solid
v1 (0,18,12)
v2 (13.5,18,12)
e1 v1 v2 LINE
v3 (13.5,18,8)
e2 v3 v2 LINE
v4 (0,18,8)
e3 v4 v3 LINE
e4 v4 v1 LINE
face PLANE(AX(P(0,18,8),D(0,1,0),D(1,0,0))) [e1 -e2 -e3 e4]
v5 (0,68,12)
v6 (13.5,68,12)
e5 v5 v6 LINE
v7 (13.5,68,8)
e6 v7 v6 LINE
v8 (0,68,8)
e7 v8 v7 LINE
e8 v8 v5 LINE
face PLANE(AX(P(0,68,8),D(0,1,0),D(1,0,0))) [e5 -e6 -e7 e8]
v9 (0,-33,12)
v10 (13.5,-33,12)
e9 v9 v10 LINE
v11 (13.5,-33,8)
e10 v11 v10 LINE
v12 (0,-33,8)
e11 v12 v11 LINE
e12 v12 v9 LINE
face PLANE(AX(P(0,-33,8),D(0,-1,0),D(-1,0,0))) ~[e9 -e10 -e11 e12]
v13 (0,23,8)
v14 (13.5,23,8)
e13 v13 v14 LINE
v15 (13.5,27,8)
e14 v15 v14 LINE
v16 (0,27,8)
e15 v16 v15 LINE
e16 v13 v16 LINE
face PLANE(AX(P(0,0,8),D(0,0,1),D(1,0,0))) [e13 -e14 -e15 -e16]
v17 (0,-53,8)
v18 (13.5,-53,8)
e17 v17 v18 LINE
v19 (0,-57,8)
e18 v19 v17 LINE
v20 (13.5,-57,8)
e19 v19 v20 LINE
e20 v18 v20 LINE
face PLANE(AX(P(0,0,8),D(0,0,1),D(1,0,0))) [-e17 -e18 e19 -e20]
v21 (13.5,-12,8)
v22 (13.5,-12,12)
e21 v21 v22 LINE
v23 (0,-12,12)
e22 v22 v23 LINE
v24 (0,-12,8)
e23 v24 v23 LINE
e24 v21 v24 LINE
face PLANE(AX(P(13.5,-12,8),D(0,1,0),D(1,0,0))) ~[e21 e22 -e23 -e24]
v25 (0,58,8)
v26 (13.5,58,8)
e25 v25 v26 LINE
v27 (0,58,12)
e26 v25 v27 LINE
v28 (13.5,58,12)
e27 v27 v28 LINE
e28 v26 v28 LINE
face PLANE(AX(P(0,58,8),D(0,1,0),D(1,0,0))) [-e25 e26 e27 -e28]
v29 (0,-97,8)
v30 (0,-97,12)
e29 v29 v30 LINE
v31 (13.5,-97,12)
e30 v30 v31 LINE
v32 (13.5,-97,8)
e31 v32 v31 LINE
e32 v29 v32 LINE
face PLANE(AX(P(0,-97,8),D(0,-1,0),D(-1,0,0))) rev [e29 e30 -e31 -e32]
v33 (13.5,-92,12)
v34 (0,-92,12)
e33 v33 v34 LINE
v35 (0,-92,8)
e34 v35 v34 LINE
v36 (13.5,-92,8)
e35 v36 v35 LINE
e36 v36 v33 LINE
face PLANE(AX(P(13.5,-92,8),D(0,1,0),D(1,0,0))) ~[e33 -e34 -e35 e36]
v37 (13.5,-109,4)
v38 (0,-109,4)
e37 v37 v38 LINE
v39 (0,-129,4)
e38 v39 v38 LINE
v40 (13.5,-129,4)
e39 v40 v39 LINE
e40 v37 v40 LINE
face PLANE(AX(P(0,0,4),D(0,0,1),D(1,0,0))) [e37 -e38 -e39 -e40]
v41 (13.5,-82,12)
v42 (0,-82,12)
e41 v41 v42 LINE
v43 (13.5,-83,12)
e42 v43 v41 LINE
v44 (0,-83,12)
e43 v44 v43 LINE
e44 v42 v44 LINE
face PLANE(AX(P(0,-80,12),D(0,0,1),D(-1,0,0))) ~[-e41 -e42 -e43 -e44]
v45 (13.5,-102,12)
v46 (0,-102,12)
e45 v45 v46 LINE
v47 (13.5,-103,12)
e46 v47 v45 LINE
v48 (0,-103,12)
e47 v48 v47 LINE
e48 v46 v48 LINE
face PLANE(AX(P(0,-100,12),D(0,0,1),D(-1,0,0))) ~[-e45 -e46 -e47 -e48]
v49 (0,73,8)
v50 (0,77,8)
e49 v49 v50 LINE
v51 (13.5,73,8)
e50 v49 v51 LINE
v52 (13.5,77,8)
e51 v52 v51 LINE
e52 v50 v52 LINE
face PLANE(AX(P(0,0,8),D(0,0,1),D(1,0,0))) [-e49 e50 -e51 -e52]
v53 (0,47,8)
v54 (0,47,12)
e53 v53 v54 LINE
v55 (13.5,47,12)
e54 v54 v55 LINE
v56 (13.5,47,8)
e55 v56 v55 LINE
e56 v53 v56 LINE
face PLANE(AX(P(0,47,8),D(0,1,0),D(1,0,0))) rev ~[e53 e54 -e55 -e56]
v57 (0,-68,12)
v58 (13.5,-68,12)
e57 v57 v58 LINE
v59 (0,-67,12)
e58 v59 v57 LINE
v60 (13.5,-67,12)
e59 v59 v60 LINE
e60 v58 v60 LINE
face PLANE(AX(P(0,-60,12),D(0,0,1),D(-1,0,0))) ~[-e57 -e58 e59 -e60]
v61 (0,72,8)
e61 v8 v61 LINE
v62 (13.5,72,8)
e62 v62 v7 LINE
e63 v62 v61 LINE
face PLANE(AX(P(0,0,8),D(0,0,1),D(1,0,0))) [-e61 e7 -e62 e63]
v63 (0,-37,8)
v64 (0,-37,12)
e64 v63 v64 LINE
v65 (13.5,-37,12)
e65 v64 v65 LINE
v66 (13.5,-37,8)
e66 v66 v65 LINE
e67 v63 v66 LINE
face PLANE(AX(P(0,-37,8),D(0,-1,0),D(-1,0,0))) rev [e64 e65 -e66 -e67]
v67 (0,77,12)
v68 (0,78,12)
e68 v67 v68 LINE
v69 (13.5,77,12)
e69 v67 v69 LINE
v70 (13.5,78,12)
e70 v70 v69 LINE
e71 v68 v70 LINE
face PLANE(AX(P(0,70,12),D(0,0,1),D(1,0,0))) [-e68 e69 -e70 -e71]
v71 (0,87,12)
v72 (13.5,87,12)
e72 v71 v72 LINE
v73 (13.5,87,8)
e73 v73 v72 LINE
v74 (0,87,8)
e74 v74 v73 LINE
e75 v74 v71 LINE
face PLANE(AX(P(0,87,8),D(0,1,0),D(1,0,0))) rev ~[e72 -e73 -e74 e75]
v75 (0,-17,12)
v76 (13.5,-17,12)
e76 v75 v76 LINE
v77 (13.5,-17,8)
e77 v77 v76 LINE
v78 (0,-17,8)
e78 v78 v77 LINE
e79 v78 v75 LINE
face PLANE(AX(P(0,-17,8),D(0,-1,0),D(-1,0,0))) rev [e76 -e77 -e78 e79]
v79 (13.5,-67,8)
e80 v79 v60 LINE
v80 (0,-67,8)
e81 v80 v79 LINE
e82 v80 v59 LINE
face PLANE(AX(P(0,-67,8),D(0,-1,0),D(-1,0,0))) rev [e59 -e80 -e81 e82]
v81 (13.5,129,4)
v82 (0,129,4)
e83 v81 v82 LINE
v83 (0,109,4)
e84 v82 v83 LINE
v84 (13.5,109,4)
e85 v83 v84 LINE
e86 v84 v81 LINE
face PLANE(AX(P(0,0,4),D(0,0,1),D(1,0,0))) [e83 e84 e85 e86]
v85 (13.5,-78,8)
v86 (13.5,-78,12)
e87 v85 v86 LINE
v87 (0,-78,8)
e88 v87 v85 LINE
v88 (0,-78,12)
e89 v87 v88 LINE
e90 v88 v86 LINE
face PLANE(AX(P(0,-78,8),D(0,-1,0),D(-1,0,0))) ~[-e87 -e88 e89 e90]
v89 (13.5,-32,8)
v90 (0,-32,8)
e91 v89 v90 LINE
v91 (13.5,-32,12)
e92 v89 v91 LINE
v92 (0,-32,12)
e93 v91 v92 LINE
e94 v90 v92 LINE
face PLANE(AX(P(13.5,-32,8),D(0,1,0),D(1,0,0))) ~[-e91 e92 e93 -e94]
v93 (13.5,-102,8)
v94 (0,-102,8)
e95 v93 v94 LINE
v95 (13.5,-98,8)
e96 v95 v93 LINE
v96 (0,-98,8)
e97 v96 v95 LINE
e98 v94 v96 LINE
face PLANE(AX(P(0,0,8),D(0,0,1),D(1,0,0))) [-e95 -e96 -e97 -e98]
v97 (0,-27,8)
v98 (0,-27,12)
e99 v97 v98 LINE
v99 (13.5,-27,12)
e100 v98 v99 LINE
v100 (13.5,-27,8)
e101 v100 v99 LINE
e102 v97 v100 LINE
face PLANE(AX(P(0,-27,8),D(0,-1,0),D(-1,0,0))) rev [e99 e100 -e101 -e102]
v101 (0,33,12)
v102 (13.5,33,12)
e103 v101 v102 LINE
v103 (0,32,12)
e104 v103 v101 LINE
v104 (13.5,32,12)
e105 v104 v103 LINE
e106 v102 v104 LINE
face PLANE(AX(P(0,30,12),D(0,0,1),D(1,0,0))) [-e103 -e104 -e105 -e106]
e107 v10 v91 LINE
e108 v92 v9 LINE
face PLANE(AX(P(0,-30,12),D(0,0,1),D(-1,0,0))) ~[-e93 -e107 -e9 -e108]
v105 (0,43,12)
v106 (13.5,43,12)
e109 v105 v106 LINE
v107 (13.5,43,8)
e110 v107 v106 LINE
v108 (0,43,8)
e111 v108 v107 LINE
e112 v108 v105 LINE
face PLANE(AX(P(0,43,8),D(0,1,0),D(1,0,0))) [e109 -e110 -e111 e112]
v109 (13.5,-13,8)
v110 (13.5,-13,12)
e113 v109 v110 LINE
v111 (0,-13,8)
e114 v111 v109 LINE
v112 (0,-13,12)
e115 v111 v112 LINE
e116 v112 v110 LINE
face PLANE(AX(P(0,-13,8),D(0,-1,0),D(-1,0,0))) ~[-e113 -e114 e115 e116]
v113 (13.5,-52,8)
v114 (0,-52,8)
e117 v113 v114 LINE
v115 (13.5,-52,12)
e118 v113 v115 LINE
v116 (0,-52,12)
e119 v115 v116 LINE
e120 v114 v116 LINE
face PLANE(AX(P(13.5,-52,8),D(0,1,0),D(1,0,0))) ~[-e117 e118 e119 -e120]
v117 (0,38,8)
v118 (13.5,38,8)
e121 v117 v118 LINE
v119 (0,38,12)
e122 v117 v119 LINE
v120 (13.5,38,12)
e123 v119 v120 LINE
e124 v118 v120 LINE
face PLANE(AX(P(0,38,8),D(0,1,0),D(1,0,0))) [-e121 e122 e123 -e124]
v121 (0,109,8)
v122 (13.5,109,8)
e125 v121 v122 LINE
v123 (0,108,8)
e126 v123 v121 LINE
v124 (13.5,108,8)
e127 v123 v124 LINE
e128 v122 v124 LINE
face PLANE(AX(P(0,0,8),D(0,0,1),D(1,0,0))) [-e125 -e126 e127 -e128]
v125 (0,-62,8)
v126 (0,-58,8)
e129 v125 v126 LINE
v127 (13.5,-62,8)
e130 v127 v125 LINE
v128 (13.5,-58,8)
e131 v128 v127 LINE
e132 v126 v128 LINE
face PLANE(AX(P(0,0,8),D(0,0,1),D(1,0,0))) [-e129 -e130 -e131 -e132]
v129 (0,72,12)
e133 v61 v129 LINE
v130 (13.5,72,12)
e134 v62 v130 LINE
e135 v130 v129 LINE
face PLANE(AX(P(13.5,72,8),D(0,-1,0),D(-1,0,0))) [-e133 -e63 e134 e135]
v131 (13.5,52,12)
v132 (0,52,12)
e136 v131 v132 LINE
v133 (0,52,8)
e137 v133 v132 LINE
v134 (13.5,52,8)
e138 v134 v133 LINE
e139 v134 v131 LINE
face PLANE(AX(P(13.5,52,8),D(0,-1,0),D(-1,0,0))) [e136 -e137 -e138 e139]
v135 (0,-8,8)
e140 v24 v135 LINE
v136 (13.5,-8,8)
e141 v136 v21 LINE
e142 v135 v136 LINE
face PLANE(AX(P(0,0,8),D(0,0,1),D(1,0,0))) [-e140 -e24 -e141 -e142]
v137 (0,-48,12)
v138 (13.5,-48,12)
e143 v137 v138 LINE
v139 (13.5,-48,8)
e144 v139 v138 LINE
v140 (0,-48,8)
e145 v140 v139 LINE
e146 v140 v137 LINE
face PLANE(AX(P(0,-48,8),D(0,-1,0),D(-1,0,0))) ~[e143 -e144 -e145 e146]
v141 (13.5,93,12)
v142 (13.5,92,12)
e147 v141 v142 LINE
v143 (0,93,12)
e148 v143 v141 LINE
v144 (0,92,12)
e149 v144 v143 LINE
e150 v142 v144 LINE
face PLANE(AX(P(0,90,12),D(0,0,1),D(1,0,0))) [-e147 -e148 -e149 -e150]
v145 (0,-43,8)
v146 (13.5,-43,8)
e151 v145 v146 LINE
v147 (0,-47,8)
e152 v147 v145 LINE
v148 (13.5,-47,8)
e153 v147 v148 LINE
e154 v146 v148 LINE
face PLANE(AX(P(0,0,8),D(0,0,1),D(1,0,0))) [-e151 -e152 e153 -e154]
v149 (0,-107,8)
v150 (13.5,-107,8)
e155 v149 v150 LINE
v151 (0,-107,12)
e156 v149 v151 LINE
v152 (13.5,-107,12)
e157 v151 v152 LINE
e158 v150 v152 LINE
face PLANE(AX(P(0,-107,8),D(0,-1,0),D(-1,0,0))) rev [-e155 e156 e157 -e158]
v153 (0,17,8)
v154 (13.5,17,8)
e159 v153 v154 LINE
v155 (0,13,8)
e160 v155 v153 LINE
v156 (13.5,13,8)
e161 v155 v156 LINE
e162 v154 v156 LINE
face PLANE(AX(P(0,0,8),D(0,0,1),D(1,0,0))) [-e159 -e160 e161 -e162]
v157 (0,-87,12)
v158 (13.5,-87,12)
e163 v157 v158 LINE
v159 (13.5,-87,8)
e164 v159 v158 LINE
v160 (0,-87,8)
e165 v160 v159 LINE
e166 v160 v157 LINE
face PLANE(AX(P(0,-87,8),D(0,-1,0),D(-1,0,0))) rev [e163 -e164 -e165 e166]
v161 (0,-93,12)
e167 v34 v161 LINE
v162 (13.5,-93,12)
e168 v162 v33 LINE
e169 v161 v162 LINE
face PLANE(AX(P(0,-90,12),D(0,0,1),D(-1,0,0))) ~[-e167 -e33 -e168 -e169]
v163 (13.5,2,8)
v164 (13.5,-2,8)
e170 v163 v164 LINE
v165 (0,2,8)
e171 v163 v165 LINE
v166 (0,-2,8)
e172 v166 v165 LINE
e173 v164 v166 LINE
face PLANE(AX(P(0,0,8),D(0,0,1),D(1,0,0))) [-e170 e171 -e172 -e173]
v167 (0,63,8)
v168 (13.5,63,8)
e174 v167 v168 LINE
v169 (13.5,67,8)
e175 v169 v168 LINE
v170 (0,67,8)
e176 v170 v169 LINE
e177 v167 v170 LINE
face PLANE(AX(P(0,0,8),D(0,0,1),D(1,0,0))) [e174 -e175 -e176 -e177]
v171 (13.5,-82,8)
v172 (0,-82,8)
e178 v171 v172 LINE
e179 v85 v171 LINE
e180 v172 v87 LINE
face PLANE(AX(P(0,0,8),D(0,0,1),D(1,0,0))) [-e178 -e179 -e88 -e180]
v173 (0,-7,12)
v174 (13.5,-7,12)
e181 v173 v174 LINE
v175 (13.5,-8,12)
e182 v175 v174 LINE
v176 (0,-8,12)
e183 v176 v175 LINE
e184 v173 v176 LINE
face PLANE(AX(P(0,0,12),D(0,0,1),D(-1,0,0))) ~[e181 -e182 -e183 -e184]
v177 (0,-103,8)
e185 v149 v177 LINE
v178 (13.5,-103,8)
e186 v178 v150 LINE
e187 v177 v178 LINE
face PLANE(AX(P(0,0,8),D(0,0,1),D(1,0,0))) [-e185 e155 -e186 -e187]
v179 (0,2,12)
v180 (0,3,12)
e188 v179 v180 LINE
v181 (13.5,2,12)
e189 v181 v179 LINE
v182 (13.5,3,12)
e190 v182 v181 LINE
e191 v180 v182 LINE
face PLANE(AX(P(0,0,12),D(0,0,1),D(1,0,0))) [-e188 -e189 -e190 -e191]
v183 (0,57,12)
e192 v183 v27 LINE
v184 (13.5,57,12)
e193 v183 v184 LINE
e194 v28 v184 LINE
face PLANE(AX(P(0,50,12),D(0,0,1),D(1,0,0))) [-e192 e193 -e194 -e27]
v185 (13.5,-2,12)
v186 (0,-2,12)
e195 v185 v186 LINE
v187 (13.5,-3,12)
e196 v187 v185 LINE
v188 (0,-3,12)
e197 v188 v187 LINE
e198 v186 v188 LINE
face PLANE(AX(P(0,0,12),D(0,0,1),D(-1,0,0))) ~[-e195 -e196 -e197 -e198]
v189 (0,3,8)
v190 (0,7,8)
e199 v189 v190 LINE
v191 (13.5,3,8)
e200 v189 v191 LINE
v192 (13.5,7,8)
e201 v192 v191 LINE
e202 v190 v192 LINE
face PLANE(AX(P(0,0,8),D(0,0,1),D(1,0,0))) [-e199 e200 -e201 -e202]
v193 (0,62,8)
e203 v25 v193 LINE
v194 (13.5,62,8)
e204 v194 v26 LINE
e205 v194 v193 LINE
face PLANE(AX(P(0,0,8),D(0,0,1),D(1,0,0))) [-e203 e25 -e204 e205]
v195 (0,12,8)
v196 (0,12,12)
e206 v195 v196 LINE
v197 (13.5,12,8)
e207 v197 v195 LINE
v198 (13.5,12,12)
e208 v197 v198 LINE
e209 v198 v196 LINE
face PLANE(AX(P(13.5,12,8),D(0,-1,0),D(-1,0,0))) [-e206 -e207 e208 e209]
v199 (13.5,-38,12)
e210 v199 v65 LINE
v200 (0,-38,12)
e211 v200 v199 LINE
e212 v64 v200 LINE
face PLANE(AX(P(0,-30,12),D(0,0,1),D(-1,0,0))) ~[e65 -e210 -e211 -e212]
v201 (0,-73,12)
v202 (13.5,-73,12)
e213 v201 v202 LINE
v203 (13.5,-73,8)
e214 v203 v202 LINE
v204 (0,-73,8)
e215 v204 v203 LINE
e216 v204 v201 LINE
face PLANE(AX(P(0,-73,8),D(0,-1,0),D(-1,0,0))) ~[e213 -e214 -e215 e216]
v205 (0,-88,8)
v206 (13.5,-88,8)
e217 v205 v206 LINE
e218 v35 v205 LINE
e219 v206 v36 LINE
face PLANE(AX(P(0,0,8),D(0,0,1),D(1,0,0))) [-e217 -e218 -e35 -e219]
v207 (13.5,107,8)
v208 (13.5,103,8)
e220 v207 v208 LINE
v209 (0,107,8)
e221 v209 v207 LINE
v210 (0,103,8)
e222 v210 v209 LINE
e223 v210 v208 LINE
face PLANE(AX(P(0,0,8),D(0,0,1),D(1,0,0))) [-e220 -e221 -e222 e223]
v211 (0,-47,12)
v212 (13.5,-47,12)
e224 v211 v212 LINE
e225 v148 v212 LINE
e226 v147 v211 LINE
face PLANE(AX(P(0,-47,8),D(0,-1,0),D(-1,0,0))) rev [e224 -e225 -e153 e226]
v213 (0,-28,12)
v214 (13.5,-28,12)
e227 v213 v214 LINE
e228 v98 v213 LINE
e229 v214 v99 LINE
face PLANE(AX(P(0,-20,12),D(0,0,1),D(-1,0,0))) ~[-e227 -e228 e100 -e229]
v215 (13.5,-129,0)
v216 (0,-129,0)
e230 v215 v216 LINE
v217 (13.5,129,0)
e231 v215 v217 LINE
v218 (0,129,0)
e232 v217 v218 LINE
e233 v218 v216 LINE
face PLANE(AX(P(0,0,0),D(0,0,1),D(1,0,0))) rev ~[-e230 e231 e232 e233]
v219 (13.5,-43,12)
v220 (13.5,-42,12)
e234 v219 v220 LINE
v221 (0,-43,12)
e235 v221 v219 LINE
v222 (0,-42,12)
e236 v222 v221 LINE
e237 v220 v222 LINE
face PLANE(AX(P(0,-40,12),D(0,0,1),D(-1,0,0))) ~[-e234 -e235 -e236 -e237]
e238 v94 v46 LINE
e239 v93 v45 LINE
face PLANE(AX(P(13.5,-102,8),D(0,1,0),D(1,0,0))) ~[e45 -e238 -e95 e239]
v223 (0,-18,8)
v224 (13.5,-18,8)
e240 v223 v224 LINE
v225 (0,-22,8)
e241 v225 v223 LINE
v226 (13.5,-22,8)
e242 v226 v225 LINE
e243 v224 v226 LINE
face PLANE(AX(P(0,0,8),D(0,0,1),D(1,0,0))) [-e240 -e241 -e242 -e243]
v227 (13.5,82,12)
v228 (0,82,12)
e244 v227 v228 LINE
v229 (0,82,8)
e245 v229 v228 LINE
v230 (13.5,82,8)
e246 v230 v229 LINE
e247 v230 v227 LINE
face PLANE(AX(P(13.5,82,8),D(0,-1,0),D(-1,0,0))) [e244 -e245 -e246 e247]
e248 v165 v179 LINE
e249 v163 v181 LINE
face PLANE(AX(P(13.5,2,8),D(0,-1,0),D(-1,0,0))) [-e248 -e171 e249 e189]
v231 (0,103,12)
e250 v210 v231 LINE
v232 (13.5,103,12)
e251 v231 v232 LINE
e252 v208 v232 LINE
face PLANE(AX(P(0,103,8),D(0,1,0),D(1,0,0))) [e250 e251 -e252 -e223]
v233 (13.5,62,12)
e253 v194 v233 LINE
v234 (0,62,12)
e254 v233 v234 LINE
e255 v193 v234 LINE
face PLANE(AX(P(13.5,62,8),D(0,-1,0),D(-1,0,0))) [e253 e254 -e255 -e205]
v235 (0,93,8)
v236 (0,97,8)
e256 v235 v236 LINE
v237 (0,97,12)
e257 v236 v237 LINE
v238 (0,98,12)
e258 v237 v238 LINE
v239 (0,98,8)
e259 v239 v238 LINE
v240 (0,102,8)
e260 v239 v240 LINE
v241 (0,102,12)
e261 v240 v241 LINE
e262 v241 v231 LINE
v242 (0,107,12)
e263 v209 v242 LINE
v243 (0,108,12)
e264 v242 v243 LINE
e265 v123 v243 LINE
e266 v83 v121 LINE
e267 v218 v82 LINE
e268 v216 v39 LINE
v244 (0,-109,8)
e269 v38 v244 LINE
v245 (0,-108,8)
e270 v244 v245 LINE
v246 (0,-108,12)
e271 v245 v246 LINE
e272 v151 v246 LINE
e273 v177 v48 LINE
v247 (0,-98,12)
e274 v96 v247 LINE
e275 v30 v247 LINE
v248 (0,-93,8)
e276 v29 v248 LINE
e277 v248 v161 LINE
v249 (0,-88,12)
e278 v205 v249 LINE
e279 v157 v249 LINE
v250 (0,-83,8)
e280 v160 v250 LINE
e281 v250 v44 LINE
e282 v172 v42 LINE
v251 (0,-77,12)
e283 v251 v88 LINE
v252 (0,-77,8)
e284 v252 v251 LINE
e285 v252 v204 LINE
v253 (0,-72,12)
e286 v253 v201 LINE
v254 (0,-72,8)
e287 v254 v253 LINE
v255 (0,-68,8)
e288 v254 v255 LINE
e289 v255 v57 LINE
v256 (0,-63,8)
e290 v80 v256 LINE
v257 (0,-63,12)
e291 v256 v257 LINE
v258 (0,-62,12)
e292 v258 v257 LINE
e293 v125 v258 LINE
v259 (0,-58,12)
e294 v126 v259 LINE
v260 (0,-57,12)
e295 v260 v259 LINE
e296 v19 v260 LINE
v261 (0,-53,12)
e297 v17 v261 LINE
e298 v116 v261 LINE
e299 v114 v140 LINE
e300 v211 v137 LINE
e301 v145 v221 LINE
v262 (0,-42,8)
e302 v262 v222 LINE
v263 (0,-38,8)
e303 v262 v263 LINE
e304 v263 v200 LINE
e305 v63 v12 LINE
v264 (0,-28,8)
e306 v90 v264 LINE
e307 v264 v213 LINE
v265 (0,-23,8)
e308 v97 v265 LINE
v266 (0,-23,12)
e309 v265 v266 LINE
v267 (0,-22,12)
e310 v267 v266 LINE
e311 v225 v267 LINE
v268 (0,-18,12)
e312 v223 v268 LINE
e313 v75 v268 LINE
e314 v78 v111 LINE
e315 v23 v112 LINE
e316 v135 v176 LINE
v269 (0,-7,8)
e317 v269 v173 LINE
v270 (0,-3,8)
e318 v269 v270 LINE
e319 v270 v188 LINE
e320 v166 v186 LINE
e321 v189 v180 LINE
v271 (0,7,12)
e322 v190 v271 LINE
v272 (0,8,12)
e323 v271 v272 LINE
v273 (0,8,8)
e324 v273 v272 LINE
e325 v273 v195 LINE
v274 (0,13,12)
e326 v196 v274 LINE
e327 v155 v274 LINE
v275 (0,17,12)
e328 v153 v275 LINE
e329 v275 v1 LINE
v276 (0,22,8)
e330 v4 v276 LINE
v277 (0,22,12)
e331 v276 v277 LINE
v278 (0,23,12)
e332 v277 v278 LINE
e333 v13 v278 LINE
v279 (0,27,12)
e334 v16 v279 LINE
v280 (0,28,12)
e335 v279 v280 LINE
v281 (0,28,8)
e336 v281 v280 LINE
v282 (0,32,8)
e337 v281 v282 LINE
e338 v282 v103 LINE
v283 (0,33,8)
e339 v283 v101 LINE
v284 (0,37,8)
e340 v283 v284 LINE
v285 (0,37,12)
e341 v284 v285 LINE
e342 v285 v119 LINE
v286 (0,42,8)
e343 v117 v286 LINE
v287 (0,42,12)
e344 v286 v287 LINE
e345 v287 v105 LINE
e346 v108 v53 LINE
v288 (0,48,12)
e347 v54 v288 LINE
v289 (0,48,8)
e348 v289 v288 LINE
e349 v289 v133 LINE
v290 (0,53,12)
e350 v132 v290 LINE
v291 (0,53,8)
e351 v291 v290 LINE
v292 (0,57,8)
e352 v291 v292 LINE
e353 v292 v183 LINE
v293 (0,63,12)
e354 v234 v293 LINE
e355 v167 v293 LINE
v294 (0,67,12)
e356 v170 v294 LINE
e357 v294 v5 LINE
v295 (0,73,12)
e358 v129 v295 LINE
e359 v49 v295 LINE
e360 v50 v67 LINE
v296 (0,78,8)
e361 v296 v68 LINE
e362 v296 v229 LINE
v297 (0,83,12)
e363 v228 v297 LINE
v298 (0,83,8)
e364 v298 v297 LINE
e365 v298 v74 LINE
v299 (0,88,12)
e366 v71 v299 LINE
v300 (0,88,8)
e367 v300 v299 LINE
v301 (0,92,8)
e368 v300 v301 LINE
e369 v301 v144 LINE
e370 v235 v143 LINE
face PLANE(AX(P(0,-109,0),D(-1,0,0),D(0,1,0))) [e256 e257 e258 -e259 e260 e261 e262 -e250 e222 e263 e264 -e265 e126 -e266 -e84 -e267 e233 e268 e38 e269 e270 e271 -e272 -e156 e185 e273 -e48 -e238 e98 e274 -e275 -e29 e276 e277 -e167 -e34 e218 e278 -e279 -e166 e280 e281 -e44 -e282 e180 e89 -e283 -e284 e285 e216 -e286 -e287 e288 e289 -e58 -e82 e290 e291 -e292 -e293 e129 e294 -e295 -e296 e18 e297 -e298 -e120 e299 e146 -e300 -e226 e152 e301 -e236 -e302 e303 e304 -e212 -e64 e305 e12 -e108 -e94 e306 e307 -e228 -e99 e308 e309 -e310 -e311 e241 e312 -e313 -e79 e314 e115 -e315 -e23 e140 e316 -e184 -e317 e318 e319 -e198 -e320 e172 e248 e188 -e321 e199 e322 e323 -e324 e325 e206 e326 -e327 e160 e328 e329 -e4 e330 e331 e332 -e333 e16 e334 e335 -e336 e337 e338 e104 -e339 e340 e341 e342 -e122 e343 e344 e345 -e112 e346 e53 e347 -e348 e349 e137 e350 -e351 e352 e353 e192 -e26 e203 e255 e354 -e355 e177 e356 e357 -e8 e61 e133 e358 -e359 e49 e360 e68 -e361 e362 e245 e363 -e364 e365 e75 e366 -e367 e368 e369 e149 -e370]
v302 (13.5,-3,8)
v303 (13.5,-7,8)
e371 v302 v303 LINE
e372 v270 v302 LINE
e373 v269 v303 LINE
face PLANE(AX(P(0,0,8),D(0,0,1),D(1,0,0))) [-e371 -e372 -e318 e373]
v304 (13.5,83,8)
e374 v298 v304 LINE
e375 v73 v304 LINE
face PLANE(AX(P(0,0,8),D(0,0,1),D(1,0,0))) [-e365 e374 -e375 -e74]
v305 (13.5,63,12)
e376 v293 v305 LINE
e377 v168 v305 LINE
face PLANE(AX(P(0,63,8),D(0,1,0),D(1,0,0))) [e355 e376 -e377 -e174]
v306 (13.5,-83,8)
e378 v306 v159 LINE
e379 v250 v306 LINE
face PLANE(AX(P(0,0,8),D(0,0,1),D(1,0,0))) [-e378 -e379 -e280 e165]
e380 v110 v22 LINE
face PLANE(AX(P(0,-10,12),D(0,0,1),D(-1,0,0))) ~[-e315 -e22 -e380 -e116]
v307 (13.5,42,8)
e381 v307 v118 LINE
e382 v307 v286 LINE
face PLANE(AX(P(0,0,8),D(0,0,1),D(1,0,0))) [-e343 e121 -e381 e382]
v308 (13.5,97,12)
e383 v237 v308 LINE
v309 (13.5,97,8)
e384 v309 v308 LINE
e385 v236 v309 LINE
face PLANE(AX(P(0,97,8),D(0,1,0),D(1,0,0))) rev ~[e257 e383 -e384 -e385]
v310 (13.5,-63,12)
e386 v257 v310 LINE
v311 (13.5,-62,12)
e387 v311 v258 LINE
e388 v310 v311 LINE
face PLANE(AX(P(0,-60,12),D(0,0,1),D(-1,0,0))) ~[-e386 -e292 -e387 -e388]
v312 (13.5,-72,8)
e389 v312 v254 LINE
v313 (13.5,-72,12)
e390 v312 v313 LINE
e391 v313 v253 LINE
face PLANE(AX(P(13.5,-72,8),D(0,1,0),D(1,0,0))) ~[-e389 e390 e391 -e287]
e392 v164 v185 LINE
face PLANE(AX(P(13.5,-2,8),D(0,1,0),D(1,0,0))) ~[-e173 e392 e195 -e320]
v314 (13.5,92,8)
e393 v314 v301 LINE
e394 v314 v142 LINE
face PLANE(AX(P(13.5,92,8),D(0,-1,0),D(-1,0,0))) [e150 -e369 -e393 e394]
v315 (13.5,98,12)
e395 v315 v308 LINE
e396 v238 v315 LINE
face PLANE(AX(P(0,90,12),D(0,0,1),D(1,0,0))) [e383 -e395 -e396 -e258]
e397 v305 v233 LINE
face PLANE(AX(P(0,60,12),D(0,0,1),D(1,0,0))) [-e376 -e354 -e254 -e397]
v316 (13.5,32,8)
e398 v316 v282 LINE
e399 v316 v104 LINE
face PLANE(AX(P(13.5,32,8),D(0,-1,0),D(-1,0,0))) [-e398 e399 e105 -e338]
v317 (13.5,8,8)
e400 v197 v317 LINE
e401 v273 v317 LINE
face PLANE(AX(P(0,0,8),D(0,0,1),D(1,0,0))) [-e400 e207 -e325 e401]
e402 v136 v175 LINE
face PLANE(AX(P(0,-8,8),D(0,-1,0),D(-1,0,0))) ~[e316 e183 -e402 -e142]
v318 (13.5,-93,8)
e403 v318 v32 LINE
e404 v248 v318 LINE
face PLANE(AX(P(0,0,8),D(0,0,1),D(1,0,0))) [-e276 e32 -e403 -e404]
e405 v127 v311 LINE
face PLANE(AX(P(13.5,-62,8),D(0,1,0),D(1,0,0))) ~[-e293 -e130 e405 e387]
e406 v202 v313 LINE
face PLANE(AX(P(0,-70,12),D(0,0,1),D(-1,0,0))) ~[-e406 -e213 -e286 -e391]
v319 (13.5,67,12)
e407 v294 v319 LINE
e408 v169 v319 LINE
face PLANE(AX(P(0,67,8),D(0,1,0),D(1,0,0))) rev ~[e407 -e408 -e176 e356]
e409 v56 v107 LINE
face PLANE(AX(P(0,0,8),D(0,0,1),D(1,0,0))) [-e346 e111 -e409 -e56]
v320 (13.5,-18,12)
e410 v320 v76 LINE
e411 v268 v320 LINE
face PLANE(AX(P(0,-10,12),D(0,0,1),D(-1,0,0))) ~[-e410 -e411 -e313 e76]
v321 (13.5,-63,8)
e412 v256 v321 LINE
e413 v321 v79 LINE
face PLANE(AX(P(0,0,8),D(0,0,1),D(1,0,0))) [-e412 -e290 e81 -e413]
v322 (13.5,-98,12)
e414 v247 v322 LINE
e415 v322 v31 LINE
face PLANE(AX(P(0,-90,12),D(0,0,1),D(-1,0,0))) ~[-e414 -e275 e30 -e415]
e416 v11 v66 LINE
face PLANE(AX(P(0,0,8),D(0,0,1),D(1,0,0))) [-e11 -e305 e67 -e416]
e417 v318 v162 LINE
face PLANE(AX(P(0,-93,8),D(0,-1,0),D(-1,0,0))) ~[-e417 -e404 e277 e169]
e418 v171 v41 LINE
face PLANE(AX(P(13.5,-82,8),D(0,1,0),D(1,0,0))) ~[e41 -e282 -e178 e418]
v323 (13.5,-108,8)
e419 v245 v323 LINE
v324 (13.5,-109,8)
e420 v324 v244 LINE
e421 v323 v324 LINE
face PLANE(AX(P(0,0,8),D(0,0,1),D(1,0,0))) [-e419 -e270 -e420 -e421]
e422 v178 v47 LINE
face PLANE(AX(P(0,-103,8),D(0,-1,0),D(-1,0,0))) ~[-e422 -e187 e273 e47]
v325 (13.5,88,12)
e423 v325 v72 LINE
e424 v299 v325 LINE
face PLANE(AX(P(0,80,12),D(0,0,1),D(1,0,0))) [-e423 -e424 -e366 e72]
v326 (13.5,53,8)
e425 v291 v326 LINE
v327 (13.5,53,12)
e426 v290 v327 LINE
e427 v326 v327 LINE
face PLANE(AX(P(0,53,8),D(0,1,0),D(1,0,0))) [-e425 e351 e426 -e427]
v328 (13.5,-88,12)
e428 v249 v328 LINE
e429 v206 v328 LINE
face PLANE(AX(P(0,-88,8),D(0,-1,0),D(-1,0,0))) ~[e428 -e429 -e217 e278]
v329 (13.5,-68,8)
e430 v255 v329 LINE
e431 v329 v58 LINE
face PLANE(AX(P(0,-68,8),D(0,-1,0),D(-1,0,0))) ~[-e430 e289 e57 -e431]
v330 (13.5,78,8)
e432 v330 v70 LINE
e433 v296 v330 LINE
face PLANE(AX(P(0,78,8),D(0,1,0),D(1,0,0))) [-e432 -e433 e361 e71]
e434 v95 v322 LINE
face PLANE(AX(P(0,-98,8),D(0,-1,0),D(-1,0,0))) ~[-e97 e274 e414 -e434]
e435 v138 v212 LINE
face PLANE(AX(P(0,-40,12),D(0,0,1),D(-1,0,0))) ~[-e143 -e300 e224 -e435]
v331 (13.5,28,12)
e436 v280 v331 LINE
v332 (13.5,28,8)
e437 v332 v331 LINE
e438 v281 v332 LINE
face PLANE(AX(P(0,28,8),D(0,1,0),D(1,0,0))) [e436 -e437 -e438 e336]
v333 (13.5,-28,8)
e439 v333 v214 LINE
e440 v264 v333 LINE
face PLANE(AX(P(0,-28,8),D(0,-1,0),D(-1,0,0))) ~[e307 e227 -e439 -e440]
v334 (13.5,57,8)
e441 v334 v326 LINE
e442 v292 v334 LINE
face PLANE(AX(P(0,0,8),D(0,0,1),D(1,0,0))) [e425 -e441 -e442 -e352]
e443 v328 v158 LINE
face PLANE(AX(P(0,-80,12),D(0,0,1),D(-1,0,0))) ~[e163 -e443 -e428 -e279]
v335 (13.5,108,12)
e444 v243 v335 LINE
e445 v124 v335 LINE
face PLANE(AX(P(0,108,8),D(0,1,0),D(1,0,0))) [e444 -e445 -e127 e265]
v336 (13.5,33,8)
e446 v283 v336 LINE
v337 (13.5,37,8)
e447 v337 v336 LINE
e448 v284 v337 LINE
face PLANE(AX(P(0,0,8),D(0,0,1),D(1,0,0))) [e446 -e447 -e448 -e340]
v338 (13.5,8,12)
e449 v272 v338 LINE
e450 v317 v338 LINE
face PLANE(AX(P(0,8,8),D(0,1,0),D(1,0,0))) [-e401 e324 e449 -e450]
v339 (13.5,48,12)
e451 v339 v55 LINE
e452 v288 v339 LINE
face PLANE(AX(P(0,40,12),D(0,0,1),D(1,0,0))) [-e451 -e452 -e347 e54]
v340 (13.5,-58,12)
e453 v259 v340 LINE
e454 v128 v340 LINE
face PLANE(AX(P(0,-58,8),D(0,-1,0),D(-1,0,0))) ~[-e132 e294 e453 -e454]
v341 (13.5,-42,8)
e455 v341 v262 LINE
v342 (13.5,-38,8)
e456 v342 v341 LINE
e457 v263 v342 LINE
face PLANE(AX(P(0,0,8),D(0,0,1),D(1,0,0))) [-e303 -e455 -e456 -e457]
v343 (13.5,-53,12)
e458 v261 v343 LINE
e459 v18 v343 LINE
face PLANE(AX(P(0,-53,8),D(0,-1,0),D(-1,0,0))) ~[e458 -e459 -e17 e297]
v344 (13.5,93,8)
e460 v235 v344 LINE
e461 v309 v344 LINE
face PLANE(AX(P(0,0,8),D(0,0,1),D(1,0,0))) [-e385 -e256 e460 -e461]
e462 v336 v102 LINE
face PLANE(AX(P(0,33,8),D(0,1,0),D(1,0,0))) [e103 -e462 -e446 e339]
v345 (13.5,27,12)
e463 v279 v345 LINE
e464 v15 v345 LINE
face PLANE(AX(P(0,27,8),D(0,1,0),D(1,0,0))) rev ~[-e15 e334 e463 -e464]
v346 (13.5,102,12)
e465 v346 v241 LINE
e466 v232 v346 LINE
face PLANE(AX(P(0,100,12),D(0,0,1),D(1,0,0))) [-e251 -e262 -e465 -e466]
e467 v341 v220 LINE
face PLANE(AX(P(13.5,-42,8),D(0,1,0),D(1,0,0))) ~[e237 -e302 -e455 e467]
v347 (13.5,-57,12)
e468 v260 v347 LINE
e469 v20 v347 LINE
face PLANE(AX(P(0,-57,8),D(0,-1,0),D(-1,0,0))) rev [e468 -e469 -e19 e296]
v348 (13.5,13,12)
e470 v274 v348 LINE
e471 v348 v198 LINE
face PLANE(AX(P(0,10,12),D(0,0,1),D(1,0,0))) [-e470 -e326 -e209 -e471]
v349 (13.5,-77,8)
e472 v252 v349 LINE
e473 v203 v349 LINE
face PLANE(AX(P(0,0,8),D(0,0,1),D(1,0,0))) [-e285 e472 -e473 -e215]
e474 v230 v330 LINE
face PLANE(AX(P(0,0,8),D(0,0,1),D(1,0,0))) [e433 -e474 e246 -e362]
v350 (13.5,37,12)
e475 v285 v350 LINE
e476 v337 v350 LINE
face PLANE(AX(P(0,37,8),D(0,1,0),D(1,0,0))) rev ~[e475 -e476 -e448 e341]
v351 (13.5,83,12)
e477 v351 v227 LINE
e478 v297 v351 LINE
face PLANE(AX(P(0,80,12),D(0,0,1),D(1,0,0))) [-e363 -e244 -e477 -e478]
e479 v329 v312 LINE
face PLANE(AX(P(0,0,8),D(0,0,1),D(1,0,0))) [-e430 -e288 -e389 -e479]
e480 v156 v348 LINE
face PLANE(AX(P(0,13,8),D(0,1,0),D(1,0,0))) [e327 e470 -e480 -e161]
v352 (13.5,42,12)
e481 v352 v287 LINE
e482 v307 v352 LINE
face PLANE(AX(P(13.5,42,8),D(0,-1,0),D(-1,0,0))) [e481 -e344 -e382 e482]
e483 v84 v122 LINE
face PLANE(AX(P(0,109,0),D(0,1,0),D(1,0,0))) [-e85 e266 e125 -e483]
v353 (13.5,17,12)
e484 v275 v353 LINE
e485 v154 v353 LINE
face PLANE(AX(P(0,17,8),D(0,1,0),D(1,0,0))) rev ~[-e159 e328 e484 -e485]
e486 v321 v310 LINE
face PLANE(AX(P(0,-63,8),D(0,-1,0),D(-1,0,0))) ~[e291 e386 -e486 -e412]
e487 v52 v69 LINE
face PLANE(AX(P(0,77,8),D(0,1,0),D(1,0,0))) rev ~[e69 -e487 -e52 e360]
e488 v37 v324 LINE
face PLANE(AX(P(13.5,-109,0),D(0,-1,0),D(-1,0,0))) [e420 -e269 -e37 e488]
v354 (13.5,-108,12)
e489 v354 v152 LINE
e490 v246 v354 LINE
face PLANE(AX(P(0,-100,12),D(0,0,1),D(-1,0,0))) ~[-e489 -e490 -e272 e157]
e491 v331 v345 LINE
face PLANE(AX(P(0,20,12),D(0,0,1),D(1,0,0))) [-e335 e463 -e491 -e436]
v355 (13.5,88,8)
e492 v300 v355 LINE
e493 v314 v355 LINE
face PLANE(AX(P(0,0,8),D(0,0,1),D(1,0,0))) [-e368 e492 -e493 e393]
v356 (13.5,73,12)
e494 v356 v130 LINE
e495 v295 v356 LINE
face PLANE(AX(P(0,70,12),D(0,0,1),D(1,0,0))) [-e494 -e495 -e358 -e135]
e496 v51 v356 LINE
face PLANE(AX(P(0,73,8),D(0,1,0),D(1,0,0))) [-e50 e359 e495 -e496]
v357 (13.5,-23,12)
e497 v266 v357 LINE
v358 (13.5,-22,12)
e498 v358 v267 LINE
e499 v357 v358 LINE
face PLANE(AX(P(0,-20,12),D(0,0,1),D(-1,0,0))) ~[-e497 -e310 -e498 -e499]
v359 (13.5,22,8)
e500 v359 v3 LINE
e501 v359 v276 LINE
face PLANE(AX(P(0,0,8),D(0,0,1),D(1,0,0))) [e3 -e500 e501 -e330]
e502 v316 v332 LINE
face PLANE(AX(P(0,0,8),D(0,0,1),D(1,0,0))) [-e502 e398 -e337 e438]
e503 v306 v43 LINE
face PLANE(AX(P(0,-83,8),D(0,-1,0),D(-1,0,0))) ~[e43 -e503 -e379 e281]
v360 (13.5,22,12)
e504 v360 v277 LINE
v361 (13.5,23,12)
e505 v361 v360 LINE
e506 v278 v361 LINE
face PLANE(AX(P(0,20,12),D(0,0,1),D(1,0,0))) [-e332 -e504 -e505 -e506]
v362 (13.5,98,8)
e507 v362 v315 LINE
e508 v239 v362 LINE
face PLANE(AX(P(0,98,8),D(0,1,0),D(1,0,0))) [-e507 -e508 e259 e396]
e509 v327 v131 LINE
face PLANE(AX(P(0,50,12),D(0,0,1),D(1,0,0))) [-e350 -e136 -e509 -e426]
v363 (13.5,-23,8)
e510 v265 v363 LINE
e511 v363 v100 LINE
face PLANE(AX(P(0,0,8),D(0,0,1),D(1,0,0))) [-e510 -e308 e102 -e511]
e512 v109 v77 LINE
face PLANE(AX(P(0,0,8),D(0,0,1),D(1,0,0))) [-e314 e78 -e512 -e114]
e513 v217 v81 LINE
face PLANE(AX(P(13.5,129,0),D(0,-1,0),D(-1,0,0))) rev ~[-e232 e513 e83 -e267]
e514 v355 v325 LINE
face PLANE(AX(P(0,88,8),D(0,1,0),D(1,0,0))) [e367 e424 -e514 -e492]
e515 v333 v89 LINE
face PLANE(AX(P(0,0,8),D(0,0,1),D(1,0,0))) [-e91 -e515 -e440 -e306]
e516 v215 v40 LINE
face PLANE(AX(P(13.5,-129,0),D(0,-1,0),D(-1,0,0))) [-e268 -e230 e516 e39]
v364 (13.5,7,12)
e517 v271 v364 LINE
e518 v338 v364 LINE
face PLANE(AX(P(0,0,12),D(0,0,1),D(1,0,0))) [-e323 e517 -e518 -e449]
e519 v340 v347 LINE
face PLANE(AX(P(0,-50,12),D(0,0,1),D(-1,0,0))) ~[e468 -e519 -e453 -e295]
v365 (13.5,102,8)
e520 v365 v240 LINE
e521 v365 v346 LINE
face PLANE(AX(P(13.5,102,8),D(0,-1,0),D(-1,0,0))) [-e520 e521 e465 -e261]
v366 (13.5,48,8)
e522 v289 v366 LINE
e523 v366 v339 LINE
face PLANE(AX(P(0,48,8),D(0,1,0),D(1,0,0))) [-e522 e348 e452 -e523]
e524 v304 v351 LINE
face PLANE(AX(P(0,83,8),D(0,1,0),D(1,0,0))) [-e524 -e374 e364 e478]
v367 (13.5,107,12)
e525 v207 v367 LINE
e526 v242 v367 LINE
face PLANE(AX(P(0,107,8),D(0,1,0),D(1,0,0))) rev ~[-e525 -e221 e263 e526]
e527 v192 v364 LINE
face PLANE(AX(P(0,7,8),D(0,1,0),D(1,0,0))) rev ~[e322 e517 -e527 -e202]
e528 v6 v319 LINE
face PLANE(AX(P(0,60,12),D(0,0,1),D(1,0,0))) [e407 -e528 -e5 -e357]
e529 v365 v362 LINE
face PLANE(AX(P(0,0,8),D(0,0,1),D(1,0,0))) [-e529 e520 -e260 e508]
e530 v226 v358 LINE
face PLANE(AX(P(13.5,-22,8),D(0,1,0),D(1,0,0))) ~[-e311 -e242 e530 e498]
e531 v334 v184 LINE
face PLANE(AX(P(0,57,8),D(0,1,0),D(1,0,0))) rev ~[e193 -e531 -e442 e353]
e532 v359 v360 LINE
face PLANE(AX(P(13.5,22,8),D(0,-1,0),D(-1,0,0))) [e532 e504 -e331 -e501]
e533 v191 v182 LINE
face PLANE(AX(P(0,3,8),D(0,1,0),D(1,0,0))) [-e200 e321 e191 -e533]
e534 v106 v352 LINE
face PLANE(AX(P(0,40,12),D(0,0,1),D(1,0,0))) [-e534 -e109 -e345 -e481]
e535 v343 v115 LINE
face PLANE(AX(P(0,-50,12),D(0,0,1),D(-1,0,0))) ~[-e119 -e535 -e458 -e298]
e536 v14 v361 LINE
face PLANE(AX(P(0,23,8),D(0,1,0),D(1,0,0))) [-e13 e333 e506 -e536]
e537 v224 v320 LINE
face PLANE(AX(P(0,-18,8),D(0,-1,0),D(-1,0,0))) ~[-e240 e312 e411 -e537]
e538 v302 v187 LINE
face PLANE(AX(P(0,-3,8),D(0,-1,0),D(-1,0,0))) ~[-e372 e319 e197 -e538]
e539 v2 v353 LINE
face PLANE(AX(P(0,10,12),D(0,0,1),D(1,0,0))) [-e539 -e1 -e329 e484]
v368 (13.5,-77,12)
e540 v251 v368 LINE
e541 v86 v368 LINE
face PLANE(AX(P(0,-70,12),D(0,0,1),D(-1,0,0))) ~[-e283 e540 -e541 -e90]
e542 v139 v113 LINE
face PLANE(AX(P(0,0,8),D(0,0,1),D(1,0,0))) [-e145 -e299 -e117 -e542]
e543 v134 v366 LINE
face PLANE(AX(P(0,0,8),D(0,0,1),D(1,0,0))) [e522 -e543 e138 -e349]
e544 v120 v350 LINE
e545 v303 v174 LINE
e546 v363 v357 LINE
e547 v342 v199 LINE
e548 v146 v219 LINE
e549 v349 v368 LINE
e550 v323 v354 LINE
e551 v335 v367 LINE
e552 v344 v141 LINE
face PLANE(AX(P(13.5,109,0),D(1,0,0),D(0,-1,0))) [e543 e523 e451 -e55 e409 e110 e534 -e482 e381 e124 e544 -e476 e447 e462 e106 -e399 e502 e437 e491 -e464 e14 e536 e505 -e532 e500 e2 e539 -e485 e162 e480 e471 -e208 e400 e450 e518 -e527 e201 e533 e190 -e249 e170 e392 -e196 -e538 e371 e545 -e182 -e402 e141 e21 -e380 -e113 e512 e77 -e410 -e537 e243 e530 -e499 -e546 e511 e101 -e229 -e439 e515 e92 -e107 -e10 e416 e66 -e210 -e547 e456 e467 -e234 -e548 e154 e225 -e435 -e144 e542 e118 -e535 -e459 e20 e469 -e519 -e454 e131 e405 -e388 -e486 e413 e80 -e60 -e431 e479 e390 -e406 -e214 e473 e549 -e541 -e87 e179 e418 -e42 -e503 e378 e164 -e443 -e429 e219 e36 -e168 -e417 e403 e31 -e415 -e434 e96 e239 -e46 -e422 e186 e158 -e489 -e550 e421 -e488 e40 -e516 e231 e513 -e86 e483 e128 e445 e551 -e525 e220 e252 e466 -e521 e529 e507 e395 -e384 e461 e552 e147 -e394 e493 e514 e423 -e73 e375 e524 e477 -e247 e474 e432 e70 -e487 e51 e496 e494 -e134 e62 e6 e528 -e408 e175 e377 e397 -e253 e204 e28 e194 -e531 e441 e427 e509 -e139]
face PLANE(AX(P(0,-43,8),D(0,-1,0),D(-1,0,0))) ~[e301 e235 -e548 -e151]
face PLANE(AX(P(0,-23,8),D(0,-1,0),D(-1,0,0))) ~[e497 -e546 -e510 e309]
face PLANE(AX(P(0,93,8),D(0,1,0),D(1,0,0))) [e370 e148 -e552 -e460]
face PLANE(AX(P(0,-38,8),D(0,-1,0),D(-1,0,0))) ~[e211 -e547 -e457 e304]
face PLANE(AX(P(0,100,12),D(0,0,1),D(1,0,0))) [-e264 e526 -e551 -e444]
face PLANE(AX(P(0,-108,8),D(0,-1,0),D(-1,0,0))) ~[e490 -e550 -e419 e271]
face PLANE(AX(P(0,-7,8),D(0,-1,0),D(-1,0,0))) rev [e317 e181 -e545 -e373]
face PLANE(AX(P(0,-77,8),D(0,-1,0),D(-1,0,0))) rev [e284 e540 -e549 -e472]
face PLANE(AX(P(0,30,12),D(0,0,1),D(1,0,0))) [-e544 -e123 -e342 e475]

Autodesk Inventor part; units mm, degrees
ref_plane "YZ Plane" through (0, 0, 0) normal (1, 0, 0) x (0, 1, 0)
ref_plane "XZ Plane" through (0, 0, 0) normal (0, 1, 0) x (-1, 0, 0)
sketch "Sketch1" plane through (0, 0, 0) normal (0, 0, 1) x (1, 0, 0)
  line L0 (0, 109) -> (13.5, 109)
  line L1 (13.5, 109) -> (13.5, -109)
  line L2 (13.5, -109) -> (0, -109)
  line L3 (0, -109) -> (0, 109)
  line L4 (0, 109) -> (13.5, 109)
  line L5 (13.5, 109) -> (13.5, 129)
  line L6 (13.5, 129) -> (0, 129)
  line L7 (0, 129) -> (0, 109)
  line L8 (0, 0) -> (65.2532, 0) construction
  line L9 (13.5, -109) -> (13.5, -129)
  line L10 (13.5, -129) -> (0, -129)
  line L11 (0, -129) -> (0, -109)
  dimension "d0" = 218
  dimension "d1" = 13.5
  dimension "d3" = 20
extrude "Extrusion1" add sketch "Sketch1" along normal blind 8 contours L0 L1 L2 L3
extrude "Extrusion2" add sketch "Sketch1" along normal blind 4 contours L7 L6 L5 L0 | L2 L9 L10 L11
ref_plane "spacer_surface Plane" through (0, 0, 8) normal (0, 0, 1) x (1, 0, 0)
sketch "Sketch2" plane through (0, 0, 8) normal (0, 0, 1) x (1, 0, 0)
  line L0 (0, 8) -> (13.5, 8)
  line L1 (13.5, 8) -> (13.5, 2)
  line L2 (13.5, 2) -> (0, 2)
  line L3 (0, 2) -> (0, 8)
  line L4 (0, 109) -> (0, -109) projected
  line L5 (13.5, -109) -> (13.5, 109) projected
  line L6 (0, 0) -> (65.2532, 0) construction
  line L7 (0, 129) -> (0, -129) projected
  line L8 (0, 3) -> (13.5, 3)
  line L9 (0, 7) -> (13.5, 7)
  point P0 (0, 5)
  point P1 (13.5, 5)
  point P2 (0, 3)
  point P3 (0, 7)
  dimension "d1" = 13.5
  dimension "d12" = 1
  dimension "d13" = 1
  dimension "d14" = 4
  dimension "d15" = 2
extrude "Extrusion3" add sketch "Sketch2" along normal blind 4 contours L0 L1 L9 L3 | L8 L1 L2 L3
pattern_linear "Rectangular Pattern1" count 11 spacing 10 along (0, 1, 0) of "Extrusion3"
mirror "Mirror1" about plane through (0, 0, 0) normal (0, 1, 0) of "Extrusion3", "Rectangular Pattern1"
equation "\"d0\" = spacer_length"
equation "\"d1\" = spacer_width"
equation "\"d3\" = lock_length"
equation "\"d4\" = spacer_height"
equation "\"d6\" = lock_height"
equation "\"d12\" = holder_thickness"
equation "\"d13\" = holder_thickness"
equation "\"d14\" = wire_diameter"
equation "\"d15\" = 0.5 * wire_diameter"
equation "\"d16\" = wire_diameter"
equation "\"spacer_length\" = 218"
equation "\"spacer_width\" = 13.5"
equation "\"spacer_height\" = 8"
equation "\"lock_length\" = 20"
equation "\"lock_height\" = 4"
equation "\"wire_diameter\" = 4"
equation "\"wire_holder_offset\" = 0.1"
equation "\"holder_thickness\" = 1"
properties part number "spacer_0R2"
